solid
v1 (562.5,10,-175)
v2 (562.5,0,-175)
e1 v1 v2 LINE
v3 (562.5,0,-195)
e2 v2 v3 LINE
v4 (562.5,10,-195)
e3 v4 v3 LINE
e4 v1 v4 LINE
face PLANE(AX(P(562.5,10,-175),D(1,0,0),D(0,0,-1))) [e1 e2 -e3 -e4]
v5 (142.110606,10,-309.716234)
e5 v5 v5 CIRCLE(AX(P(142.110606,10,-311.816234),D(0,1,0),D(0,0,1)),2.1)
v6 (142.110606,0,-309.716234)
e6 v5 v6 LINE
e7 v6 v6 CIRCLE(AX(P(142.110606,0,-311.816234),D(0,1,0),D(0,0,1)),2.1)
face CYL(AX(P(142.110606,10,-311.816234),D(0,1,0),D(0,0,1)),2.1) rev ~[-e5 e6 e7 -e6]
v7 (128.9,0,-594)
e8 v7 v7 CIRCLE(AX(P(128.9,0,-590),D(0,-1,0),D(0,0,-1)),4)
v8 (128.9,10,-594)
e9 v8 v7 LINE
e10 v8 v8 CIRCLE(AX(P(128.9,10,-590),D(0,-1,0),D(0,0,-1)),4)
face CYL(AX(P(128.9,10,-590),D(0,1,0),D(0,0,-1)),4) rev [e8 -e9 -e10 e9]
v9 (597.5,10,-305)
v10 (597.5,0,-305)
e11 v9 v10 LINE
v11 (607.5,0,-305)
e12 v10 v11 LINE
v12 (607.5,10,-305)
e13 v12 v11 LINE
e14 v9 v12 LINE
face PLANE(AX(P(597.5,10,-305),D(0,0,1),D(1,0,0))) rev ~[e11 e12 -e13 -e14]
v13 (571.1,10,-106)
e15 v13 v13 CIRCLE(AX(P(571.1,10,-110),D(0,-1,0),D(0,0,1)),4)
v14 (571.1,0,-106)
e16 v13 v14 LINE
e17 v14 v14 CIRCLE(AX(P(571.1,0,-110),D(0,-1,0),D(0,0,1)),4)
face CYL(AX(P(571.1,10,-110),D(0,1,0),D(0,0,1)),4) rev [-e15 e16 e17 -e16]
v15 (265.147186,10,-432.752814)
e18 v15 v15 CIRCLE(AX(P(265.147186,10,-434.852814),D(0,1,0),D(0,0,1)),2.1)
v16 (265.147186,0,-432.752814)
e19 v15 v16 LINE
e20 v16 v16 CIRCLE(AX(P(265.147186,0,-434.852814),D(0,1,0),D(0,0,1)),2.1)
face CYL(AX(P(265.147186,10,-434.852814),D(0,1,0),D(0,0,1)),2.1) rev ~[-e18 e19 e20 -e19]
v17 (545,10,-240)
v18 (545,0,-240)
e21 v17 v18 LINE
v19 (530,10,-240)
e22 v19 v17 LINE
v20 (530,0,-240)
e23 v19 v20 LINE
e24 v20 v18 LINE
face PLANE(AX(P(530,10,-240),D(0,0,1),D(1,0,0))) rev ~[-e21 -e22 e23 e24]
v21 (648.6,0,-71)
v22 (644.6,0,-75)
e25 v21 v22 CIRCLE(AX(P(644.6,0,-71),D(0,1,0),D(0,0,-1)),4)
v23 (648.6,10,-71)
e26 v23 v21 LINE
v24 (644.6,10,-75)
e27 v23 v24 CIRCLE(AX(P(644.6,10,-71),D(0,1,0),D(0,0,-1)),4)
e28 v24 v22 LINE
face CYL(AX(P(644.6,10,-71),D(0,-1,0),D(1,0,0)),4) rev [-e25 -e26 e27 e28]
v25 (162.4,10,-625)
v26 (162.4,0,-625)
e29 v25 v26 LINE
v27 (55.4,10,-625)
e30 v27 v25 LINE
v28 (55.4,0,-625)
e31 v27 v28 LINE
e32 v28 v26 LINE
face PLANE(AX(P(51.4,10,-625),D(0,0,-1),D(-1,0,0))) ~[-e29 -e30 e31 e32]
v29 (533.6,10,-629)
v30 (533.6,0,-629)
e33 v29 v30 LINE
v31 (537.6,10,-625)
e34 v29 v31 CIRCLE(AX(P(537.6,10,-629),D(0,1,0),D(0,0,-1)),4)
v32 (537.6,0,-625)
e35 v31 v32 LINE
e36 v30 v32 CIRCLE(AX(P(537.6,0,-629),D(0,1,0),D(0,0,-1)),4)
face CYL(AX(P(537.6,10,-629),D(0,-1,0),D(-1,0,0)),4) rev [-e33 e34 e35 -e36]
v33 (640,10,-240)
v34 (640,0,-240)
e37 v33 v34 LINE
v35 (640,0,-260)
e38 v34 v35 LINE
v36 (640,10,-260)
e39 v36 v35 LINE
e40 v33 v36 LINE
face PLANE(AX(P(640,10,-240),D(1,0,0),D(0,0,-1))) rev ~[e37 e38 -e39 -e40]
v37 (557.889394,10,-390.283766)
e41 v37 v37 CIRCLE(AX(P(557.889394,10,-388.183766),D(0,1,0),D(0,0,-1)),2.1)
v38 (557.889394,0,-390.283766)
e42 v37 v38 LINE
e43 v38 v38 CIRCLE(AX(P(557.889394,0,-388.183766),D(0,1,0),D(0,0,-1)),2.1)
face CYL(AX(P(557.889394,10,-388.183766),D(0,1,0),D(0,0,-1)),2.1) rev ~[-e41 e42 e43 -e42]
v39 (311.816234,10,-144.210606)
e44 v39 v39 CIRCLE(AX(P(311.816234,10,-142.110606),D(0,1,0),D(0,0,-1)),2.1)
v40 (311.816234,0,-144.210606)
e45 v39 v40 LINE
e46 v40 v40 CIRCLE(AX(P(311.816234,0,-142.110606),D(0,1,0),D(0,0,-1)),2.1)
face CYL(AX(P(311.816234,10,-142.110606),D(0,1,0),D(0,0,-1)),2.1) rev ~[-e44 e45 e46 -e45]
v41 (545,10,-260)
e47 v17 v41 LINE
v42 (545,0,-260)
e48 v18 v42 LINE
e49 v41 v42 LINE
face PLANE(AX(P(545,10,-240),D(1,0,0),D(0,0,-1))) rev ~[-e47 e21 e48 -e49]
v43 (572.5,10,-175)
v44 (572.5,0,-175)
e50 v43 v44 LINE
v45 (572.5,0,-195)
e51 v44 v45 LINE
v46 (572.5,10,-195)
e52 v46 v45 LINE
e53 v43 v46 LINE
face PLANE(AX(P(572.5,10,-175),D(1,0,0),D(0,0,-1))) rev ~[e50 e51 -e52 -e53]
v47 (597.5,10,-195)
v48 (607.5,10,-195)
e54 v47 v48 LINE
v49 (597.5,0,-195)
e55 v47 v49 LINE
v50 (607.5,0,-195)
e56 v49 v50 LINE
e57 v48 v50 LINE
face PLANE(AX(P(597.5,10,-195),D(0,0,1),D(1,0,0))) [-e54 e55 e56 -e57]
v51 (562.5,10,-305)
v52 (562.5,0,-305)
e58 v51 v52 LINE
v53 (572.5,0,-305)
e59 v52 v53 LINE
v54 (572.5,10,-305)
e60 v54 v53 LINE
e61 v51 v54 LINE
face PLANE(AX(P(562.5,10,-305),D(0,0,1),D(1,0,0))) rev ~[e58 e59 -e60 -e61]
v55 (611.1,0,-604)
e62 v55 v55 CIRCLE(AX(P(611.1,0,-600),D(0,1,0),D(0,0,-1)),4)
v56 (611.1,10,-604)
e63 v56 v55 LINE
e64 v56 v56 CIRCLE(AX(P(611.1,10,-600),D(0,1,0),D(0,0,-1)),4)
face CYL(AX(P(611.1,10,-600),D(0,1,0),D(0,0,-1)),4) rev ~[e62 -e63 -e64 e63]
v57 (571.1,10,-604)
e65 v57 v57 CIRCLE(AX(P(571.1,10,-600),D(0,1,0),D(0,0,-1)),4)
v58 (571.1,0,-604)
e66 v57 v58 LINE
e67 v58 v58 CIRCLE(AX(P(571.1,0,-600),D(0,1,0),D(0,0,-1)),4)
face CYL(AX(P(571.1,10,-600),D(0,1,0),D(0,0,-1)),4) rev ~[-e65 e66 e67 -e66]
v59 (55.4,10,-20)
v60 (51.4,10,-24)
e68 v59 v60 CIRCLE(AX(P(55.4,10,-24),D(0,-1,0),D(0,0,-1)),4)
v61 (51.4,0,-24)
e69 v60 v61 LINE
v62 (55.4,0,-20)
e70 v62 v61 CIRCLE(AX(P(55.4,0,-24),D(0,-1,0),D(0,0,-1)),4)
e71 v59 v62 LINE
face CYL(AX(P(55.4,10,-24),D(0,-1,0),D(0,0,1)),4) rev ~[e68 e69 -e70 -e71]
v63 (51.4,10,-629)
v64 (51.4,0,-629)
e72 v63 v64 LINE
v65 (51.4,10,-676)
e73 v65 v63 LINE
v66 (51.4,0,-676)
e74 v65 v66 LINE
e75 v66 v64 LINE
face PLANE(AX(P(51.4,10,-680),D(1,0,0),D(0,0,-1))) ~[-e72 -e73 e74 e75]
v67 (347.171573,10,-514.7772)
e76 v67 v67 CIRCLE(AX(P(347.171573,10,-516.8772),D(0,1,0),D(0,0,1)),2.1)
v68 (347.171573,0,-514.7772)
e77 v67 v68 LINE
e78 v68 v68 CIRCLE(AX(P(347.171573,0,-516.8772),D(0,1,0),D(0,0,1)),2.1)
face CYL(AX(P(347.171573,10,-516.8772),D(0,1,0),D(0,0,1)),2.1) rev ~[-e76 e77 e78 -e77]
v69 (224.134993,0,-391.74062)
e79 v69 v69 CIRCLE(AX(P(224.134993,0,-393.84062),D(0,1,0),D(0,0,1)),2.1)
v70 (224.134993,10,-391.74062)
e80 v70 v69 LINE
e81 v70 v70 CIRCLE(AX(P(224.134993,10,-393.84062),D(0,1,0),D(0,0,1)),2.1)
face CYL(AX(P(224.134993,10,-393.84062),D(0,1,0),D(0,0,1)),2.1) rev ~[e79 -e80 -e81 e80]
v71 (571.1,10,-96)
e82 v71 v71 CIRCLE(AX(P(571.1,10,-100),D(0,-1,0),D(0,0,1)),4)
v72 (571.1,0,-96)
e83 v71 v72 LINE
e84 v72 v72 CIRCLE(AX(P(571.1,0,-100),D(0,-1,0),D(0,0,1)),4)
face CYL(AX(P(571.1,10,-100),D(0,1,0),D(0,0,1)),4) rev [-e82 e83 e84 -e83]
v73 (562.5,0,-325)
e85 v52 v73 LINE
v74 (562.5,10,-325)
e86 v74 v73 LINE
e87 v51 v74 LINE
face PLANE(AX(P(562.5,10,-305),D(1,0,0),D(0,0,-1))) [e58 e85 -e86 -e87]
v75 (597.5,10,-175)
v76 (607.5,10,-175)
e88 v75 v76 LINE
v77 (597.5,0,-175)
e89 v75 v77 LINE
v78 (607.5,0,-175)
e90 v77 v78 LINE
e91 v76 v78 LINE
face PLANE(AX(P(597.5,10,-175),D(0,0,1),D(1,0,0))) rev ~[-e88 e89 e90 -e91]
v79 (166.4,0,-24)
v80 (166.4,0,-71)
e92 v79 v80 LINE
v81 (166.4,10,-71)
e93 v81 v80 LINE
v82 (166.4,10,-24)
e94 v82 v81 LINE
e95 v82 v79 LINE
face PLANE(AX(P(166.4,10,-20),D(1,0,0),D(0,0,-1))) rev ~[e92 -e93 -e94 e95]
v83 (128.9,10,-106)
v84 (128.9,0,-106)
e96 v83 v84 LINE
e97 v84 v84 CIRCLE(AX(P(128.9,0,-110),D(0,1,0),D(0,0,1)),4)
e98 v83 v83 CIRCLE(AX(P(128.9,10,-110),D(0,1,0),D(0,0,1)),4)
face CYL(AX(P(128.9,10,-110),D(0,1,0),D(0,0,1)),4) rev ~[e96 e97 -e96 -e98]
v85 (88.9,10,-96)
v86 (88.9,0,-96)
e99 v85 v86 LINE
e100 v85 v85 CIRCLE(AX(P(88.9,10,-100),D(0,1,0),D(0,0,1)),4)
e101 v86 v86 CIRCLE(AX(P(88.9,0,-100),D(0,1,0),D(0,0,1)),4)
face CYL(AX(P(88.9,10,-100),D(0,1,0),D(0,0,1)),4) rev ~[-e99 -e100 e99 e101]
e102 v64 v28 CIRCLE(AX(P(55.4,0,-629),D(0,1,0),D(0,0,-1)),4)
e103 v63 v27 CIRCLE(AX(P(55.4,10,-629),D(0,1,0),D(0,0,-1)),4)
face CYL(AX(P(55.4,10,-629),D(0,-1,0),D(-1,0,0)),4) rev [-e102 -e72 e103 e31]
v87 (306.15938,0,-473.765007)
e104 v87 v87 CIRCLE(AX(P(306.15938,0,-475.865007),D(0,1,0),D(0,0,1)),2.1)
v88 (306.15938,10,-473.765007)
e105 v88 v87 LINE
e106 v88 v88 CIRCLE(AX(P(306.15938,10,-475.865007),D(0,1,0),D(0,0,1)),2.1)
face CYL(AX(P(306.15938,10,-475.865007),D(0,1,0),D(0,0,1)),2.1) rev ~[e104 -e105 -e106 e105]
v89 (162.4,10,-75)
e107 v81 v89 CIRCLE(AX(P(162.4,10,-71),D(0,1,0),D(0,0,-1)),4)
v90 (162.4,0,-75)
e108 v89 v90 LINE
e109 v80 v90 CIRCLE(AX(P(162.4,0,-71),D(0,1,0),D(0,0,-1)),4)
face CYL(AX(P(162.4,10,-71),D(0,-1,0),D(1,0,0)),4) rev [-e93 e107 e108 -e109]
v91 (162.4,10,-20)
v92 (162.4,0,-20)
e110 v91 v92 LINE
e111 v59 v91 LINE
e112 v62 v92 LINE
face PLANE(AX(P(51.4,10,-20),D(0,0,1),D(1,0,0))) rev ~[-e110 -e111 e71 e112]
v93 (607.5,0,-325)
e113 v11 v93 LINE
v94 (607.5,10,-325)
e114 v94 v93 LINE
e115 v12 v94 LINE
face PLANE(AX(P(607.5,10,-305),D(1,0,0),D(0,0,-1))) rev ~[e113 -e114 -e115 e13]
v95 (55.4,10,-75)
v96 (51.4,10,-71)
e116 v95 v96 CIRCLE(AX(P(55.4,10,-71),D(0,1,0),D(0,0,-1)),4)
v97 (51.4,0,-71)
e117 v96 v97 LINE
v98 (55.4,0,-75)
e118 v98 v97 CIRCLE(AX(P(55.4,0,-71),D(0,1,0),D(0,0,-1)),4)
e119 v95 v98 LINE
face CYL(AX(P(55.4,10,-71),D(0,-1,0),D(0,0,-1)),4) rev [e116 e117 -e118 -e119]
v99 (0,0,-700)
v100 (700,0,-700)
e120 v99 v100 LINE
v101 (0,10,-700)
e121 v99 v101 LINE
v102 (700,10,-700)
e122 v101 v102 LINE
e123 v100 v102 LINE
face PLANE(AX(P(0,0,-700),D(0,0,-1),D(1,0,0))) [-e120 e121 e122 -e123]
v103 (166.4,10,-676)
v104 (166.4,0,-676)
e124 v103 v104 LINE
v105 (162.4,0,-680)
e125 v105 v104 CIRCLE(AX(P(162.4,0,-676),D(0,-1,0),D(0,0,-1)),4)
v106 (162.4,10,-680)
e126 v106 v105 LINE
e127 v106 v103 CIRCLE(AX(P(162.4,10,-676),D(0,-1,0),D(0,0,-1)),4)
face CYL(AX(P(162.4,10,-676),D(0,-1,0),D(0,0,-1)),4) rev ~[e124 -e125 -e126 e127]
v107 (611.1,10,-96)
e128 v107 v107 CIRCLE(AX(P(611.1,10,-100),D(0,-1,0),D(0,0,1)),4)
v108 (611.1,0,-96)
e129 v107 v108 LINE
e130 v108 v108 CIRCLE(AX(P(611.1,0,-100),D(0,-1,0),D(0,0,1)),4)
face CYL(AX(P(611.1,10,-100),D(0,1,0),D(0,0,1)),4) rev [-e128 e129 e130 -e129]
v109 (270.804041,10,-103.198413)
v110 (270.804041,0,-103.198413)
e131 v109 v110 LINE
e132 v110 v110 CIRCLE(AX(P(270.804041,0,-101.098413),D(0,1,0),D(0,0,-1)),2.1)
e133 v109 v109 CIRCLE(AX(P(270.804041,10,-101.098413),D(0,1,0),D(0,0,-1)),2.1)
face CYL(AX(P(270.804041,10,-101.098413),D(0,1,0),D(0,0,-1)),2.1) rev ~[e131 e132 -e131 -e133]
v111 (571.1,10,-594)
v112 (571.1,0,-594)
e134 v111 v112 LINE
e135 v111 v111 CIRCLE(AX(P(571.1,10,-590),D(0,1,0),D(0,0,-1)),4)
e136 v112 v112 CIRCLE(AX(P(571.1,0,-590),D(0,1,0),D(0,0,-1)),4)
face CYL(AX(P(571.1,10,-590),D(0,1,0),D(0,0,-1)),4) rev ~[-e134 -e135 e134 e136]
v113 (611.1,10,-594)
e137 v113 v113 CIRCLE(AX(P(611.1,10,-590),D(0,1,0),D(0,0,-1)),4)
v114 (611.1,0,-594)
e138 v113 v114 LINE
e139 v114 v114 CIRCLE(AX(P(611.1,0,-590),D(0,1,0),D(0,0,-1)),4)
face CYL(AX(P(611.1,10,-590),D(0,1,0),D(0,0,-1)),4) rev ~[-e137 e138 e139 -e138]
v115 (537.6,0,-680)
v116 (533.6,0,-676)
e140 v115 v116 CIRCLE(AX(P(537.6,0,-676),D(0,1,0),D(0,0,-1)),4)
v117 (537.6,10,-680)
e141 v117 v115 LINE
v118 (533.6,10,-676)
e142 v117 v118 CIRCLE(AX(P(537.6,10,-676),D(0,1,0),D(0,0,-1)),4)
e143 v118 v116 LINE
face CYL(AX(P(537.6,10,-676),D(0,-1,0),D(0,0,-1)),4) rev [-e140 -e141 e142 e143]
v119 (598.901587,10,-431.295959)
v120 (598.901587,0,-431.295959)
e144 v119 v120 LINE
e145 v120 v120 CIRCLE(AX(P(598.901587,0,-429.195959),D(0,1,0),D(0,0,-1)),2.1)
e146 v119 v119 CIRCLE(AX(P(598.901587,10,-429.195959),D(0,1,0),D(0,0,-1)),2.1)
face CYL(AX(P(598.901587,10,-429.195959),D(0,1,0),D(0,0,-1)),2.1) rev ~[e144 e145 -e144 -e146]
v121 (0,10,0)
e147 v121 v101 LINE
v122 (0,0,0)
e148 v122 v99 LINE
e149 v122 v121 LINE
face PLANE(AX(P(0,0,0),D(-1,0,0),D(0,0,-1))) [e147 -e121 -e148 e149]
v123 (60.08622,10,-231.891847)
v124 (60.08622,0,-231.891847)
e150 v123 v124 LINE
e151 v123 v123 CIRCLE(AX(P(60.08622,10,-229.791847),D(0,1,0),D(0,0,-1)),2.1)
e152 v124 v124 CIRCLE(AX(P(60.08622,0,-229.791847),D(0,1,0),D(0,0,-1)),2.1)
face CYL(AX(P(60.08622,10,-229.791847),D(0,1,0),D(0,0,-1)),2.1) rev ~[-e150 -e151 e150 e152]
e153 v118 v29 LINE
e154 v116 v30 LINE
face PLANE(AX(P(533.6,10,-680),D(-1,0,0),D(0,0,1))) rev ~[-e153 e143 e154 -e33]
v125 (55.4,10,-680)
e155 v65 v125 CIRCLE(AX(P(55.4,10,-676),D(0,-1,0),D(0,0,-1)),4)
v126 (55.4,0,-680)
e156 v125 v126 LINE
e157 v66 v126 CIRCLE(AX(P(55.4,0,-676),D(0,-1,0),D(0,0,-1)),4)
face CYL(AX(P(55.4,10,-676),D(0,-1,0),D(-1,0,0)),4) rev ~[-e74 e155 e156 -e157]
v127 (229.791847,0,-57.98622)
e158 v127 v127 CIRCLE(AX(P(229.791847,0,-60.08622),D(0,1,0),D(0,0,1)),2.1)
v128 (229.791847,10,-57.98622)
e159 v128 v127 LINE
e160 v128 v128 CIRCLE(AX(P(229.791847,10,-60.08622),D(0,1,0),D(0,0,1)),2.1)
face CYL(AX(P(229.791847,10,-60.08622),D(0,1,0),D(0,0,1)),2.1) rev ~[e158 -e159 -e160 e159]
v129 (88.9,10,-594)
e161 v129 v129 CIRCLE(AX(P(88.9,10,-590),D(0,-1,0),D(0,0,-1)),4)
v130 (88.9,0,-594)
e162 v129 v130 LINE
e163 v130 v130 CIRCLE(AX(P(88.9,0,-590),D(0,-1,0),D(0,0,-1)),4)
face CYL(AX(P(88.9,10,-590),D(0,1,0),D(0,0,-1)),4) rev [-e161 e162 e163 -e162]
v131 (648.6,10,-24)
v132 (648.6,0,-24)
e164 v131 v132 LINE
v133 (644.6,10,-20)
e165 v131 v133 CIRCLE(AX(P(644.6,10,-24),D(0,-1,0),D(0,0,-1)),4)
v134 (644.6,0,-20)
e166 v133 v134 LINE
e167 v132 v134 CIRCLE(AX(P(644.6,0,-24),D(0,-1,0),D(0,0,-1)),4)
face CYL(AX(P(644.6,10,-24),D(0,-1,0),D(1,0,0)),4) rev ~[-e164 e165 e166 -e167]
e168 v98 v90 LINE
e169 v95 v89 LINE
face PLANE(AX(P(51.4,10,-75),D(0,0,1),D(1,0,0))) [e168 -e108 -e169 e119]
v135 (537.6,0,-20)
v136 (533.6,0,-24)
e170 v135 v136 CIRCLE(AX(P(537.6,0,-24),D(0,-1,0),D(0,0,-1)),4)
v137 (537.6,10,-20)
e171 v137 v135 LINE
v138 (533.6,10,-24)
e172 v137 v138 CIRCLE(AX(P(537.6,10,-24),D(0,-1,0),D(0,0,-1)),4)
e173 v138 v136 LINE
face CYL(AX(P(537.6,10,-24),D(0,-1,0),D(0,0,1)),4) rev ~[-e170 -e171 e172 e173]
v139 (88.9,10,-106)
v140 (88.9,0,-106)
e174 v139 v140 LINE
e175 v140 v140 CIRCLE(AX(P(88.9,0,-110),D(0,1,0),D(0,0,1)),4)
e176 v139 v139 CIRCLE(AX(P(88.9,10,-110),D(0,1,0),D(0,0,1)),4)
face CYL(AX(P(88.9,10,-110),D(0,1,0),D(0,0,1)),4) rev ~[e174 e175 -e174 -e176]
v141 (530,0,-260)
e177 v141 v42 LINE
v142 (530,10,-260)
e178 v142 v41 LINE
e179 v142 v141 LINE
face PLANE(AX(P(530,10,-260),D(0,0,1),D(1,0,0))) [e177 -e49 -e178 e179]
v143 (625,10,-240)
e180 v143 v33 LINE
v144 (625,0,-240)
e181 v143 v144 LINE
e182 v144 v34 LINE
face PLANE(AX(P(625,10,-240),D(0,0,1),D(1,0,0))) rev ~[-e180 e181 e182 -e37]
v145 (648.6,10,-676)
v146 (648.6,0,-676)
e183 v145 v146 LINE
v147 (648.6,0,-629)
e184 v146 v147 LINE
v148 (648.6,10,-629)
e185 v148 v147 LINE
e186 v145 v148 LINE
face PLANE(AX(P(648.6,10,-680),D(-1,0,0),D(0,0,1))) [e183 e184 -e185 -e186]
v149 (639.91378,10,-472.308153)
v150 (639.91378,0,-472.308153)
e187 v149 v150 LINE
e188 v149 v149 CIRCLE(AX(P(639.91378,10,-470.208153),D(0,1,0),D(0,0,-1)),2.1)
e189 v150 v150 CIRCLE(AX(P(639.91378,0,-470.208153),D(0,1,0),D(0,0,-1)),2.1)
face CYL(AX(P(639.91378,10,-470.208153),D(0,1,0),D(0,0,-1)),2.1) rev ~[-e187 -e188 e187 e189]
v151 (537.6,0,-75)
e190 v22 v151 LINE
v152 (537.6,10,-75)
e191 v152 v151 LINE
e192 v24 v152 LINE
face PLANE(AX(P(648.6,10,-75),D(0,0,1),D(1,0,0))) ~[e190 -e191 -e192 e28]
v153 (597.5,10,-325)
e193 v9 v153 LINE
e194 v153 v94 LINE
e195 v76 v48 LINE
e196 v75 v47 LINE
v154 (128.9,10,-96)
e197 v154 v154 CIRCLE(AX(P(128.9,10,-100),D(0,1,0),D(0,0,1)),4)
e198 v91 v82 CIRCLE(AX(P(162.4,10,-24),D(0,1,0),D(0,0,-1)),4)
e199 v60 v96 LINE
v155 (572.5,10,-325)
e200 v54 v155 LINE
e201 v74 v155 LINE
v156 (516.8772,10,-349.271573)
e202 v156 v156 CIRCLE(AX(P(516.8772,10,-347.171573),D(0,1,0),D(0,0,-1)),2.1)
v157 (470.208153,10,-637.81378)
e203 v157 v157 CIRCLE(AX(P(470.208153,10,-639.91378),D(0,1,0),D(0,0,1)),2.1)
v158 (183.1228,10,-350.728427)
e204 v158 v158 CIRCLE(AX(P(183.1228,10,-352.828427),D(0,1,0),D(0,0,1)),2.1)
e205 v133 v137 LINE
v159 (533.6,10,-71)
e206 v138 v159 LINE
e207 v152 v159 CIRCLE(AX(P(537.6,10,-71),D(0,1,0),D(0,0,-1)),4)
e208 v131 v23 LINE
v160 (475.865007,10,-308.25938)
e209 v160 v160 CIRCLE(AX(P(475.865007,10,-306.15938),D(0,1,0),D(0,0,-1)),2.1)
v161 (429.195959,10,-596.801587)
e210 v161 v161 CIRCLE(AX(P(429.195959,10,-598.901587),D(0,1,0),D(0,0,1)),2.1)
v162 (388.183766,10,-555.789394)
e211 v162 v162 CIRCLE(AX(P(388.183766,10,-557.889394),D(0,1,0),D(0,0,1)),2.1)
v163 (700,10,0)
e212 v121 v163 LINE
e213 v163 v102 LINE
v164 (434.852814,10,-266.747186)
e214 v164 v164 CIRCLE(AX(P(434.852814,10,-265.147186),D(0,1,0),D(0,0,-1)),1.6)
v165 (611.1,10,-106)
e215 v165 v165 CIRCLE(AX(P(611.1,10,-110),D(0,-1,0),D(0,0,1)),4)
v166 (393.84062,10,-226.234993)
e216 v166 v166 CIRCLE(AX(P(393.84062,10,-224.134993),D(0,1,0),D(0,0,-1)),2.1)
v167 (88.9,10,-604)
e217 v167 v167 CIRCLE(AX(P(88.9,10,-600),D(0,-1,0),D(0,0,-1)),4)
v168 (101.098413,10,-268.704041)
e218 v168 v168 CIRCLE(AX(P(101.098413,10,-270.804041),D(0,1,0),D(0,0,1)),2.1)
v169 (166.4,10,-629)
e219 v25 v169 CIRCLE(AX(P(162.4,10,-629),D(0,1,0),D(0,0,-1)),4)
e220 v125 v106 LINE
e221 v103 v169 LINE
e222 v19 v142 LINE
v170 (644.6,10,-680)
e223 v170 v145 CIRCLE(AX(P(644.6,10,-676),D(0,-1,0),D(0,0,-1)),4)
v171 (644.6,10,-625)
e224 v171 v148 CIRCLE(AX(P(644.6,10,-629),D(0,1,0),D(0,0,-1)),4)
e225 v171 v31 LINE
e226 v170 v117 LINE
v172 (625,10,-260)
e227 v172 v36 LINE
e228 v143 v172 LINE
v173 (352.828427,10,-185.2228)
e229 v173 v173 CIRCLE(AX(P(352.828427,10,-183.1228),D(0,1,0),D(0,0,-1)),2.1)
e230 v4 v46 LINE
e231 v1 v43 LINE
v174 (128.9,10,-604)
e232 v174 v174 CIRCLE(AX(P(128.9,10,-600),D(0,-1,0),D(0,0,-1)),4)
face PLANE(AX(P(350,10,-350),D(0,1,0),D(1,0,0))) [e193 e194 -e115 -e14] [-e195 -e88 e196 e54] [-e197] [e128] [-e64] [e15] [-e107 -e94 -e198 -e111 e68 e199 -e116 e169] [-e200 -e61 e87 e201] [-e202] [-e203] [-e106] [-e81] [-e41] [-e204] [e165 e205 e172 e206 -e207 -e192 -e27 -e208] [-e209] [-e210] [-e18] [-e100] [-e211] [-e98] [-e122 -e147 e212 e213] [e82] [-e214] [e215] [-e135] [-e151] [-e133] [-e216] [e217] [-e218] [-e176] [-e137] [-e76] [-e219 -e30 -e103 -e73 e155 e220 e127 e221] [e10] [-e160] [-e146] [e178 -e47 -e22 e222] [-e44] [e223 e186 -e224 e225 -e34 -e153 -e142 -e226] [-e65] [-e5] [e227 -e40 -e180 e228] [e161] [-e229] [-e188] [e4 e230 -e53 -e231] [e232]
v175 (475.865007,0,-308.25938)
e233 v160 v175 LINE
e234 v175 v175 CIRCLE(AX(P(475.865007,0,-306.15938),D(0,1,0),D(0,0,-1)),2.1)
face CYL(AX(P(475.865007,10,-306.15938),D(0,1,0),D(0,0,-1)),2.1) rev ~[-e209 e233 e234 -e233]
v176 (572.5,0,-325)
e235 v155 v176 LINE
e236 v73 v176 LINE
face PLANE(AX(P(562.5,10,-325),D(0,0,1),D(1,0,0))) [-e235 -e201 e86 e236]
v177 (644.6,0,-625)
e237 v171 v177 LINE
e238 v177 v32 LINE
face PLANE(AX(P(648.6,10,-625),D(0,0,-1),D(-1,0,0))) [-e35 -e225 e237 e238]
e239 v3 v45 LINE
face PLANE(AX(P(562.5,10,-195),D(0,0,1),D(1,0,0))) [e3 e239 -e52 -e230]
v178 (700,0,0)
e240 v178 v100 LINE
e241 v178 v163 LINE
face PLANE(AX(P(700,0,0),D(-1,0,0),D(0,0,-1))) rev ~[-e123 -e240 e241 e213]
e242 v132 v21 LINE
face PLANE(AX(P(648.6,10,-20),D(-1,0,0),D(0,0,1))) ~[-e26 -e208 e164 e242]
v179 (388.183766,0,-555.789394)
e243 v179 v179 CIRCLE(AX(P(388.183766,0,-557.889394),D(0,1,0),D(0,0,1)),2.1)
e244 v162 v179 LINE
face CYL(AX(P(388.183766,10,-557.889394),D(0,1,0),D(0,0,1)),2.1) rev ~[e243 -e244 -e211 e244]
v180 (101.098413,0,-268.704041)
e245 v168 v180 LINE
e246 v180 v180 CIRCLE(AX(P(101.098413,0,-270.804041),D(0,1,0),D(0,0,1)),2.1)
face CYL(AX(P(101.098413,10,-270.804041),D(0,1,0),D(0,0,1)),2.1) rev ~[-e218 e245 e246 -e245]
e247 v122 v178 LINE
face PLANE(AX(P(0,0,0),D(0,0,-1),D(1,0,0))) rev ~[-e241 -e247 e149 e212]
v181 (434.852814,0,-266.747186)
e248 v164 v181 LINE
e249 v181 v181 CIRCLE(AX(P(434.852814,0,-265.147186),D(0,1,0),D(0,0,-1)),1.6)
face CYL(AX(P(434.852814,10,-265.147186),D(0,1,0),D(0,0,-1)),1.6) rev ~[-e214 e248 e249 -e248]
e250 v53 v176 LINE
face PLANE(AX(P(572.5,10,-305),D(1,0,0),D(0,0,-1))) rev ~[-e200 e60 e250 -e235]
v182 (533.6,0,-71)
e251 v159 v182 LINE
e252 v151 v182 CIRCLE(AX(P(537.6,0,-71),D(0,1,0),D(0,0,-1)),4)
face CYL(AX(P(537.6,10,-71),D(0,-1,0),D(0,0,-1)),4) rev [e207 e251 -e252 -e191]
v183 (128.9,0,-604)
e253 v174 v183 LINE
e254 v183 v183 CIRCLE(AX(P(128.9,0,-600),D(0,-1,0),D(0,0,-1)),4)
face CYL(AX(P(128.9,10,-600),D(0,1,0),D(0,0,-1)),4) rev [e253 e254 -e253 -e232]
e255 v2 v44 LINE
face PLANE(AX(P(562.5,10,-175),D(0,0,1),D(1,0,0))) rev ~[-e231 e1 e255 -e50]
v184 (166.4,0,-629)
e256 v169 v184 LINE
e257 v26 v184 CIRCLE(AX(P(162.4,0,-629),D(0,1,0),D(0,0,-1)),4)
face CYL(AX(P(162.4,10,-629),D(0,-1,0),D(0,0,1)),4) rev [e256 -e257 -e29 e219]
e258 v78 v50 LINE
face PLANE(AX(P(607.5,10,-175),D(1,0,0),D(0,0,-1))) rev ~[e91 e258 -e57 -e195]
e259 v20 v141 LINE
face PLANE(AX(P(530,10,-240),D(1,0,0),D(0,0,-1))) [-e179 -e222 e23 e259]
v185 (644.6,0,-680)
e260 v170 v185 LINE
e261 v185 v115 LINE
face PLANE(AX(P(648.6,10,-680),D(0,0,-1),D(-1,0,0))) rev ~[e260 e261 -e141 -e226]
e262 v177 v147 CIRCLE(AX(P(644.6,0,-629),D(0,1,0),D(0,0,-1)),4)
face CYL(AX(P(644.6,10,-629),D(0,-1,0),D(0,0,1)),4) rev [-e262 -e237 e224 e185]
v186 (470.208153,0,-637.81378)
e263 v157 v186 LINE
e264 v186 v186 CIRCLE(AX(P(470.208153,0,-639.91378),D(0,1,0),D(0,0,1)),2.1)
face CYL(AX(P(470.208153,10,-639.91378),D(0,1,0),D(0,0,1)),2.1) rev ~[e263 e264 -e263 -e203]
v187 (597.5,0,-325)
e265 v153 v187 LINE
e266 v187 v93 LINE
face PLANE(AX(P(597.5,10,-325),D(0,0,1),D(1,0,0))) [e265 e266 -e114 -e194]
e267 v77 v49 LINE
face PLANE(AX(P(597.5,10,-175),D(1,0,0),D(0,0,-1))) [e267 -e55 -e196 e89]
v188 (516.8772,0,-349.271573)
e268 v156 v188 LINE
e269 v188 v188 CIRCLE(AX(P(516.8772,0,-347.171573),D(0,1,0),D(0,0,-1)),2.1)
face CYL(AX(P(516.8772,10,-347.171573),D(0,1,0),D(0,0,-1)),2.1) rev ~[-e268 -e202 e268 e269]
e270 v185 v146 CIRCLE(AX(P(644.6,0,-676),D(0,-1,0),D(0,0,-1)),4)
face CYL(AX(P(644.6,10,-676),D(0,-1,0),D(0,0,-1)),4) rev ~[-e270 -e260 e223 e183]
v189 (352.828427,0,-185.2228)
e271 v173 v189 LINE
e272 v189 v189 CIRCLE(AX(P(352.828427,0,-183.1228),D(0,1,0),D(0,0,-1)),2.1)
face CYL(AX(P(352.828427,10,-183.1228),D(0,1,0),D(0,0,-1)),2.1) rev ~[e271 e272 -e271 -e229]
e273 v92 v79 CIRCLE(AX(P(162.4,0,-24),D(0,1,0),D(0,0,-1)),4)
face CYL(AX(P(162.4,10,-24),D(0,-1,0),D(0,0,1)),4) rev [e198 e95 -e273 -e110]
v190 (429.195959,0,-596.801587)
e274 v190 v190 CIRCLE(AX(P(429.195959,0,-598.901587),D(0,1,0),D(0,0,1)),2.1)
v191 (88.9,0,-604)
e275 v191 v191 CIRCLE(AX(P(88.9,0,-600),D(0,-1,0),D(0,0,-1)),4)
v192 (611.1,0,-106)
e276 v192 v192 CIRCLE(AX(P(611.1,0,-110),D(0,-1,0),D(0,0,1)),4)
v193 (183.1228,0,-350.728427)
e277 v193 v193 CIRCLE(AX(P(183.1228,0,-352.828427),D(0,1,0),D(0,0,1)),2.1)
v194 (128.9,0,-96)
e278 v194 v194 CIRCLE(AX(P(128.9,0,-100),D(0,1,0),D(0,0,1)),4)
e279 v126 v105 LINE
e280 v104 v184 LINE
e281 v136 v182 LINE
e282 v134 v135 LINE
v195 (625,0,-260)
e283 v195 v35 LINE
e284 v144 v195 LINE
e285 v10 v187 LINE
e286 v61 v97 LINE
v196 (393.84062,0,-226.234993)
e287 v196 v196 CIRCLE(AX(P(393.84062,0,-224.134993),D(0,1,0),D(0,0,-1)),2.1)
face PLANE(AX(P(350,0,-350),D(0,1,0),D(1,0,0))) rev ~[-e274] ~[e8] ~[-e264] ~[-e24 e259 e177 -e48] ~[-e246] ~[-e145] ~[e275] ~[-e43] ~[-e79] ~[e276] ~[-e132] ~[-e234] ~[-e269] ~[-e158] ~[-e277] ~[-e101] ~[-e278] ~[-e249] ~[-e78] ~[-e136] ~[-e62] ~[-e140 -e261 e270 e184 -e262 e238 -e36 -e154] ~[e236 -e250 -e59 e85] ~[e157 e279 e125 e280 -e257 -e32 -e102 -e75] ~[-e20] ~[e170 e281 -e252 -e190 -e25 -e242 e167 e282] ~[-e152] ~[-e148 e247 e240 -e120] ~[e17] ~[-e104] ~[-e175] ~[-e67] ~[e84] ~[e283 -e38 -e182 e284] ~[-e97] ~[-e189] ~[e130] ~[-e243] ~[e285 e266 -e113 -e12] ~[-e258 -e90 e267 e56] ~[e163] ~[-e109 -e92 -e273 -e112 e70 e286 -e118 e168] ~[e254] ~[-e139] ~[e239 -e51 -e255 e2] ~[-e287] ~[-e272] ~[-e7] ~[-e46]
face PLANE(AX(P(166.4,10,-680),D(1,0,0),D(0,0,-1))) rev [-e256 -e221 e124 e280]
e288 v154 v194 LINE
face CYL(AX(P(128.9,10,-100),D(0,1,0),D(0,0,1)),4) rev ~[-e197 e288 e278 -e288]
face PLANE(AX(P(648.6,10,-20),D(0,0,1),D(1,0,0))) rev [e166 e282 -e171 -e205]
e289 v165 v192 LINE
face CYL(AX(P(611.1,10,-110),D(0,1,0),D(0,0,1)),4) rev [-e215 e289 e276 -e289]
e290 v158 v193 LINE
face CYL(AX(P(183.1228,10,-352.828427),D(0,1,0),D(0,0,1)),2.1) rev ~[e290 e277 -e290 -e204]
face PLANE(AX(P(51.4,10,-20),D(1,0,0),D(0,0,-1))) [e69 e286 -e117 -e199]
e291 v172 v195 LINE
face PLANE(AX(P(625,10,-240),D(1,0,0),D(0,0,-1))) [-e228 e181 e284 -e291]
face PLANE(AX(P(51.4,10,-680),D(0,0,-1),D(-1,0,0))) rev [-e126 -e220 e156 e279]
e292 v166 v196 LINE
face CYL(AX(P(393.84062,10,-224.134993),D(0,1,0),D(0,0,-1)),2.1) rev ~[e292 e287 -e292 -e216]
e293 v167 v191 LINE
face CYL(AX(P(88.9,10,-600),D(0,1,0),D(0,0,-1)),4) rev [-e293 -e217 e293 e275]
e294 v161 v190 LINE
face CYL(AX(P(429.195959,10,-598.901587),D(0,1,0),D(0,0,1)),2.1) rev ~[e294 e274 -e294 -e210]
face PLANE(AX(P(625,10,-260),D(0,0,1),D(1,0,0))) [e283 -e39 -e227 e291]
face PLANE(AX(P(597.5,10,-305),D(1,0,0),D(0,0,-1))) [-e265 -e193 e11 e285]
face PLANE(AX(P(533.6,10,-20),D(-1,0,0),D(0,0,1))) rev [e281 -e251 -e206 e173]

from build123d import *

# Parameters (mm, degrees)
SKETCH1_W                                  = 700
SKETCH1_H                                  = 700
BOSS_EXTRUDE1_DEPTH                        = 10
SKETCH2_R                                  = 4
SKETCH2_W                                  = 115
SKETCH2_H                                  = 55
CUT_EXTRUDE2_DEPTH                         = 10
FILLET1_R                                  = 4
MIRROR3_AT_THE_SECOND_PLANE_COPY_1_SKETC_R = 4
MIRROR3_AT_THE_SECOND_PLANE_COPY_1_SKETC_W = 115
MIRROR3_AT_THE_SECOND_PLANE_COPY_1_SKETC_H = 55
MIRROR3_AT_THE_SECOND_PLANE_COPY_1_DEPTH   = 10
FILLET2_R                                  = 4
SKETCH3_R                                  = 2.1
SKETCH3_R_2                                = 1.6
CUT_EXTRUDE3_DEPTH                         = 991
SKETCH4_W                                  = 10
SKETCH4_H                                  = 20
SKETCH4_W_2                                = 15
CUT_EXTRUDE4_DEPTH                         = 991


with BuildPart() as part:
    # Sketch1 → Boss-Extrude1 (new body)
    with BuildSketch(Plane(origin=(0, 0, 0), x_dir=(1, 0, 0), z_dir=(0, 1, 0))):
        with Locations((350, 350)):
            Rectangle(SKETCH1_W, SKETCH1_H)
    extrude(amount=BOSS_EXTRUDE1_DEPTH)

    # Sketch2 → Cut-Extrude2 (cut)
    with BuildSketch(Plane(origin=(0, 10, 0), x_dir=(1, 0, 0), z_dir=(0, 1, 0))):
        with Locations(Location((88.9, 110, 0), (0, 0, 270))):
            Circle(SKETCH2_R)
        with Locations(Location((128.9, 110, 0), (0, 0, 270))):
            Circle(SKETCH2_R)
        with Locations(Location((128.9, 100, 0), (0, 0, 270))):
            Circle(SKETCH2_R)
        with Locations(Location((88.9, 100, 0), (0, 0, 270))):
            Circle(SKETCH2_R)
        with Locations((108.9, 47.5)):
            Rectangle(SKETCH2_W, SKETCH2_H)
    cut_extrude2 = extrude(amount=-CUT_EXTRUDE2_DEPTH, mode=Mode.SUBTRACT)

    # Fillet1
    fillet1_edges = [part.edges().sort_by_distance(p)[0] for p in [
        (51.4, 5, -75),
        (166.4, 5, -75),
        (166.4, 5, -20),
        (51.4, 5, -20),
    ]]
    fillet(fillet1_edges, radius=FILLET1_R)

    # Mirror3: Cut-Extrude2 across plane
    add(cut_extrude2.mirror(Plane.XY.offset(-350)), mode=Mode.SUBTRACT)

    # Mirror3 at the second plane: Cut-Extrude2 across plane
    add(cut_extrude2.mirror(Plane.ZY.offset(-350)), mode=Mode.SUBTRACT)

    # Mirror3 at the second plane copy 1 sketc → Mirror3 at the second plane copy 1 (cut)
    with BuildSketch(Plane(origin=(700, 10, -700), x_dir=(-1, 0, 0), z_dir=(0, 1, 0))):
        with Locations(Location((88.9, 110, 0), (0, 0, 270))):
            Circle(MIRROR3_AT_THE_SECOND_PLANE_COPY_1_SKETC_R)
        with Locations(Location((128.9, 110, 0), (0, 0, 270))):
            Circle(MIRROR3_AT_THE_SECOND_PLANE_COPY_1_SKETC_R)
        with Locations(Location((128.9, 100, 0), (0, 0, 270))):
            Circle(MIRROR3_AT_THE_SECOND_PLANE_COPY_1_SKETC_R)
        with Locations(Location((88.9, 100, 0), (0, 0, 270))):
            Circle(MIRROR3_AT_THE_SECOND_PLANE_COPY_1_SKETC_R)
        with Locations((108.9, 47.5)):
            Rectangle(MIRROR3_AT_THE_SECOND_PLANE_COPY_1_SKETC_W, MIRROR3_AT_THE_SECOND_PLANE_COPY_1_SKETC_H)
    extrude(amount=-MIRROR3_AT_THE_SECOND_PLANE_COPY_1_DEPTH, mode=Mode.SUBTRACT)

    # Fillet2
    fillet2_edges = [part.edges().sort_by_distance(p)[0] for p in [
        (166.4, 5, -625),
        (51.4, 5, -625),
        (51.4, 5, -680),
        (166.4, 5, -680),
        (648.6, 5, -625),
        (533.6, 5, -625),
        (533.6, 5, -680),
        (648.6, 5, -680),
        (533.6, 5, -75),
        (648.6, 5, -75),
        (648.6, 5, -20),
        (533.6, 5, -20),
    ]]
    fillet(fillet2_edges, radius=FILLET2_R)

    # Sketch3 → Cut-Extrude3 (cut, through all)
    with BuildSketch(Plane(origin=(0, 10, 0), x_dir=(1, 0, 0), z_dir=(0, 1, 0))):
        with Locations(Location((470.208152802, 639.913780286, 0), (0, 0, 270))):
            Circle(SKETCH3_R)
        with Locations(Location((60.086219714, 229.791847198, 0), (0, 0, 90))):
            Circle(SKETCH3_R)
        with Locations(Location((639.913780286, 470.208152802, 0), (0, 0, 90))):
            Circle(SKETCH3_R)
        with Locations(Location((429.195959493, 598.901586978, 0), (0, 0, 270))):
            Circle(SKETCH3_R)
        with Locations(Location((388.183766184, 557.889393669, 0), (0, 0, 270))):
            Circle(SKETCH3_R)
        with Locations(Location((347.171572875, 516.87720036, 0), (0, 0, 270))):
            Circle(SKETCH3_R)
        with Locations(Location((306.159379566, 475.865007051, 0), (0, 0, 270))):
            Circle(SKETCH3_R)
        with Locations(Location((265.147186258, 434.852813742, 0), (0, 0, 270))):
            Circle(SKETCH3_R)
        with Locations(Location((224.134992949, 393.840620434, 0), (0, 0, 270))):
            Circle(SKETCH3_R)
        with Locations(Location((183.12279964, 352.828427125, 0), (0, 0, 270))):
            Circle(SKETCH3_R)
        with Locations(Location((142.110606331, 311.816233816, 0), (0, 0, 270))):
            Circle(SKETCH3_R)
        with Locations(Location((101.098413022, 270.804040507, 0), (0, 0, 270))):
            Circle(SKETCH3_R)
        with Locations(Location((229.791847198, 60.086219714, 0), (0, 0, 270))):
            Circle(SKETCH3_R)
        with Locations(Location((270.804040507, 101.098413022, 0), (0, 0, 90))):
            Circle(SKETCH3_R)
        with Locations(Location((311.816233816, 142.110606331, 0), (0, 0, 90))):
            Circle(SKETCH3_R)
        with Locations(Location((352.828427125, 183.12279964, 0), (0, 0, 90))):
            Circle(SKETCH3_R)
        with Locations(Location((393.840620434, 224.134992949, 0), (0, 0, 90))):
            Circle(SKETCH3_R)
        with Locations(Location((434.852813742, 265.147186258, 0), (0, 0, 90))):
            Circle(SKETCH3_R_2)
        with Locations(Location((475.865007051, 306.159379566, 0), (0, 0, 90))):
            Circle(SKETCH3_R)
        with Locations(Location((516.87720036, 347.171572875, 0), (0, 0, 90))):
            Circle(SKETCH3_R)
        with Locations(Location((557.889393669, 388.183766184, 0), (0, 0, 90))):
            Circle(SKETCH3_R)
        with Locations(Location((598.901586978, 429.195959493, 0), (0, 0, 90))):
            Circle(SKETCH3_R)
    extrude(amount=-CUT_EXTRUDE3_DEPTH, mode=Mode.SUBTRACT)

    # Sketch4 → Cut-Extrude4 (cut, through all)
    with BuildSketch(Plane(origin=(0, 10, 0), x_dir=(1, 0, 0), z_dir=(0, 1, 0))):
        with Locations((602.5, 315)):
            Rectangle(SKETCH4_W, SKETCH4_H)
        with Locations((602.5, 185)):
            Rectangle(SKETCH4_W, SKETCH4_H)
        with Locations((567.5, 315)):
            Rectangle(SKETCH4_W, SKETCH4_H)
        with Locations((567.5, 185)):
            Rectangle(SKETCH4_W, SKETCH4_H)
        with Locations((537.5, 250)):
            Rectangle(SKETCH4_W_2, SKETCH4_H)
        with Locations((632.5, 250)):
            Rectangle(SKETCH4_W_2, SKETCH4_H)
    extrude(amount=-CUT_EXTRUDE4_DEPTH, mode=Mode.SUBTRACT)


solid = part.part
